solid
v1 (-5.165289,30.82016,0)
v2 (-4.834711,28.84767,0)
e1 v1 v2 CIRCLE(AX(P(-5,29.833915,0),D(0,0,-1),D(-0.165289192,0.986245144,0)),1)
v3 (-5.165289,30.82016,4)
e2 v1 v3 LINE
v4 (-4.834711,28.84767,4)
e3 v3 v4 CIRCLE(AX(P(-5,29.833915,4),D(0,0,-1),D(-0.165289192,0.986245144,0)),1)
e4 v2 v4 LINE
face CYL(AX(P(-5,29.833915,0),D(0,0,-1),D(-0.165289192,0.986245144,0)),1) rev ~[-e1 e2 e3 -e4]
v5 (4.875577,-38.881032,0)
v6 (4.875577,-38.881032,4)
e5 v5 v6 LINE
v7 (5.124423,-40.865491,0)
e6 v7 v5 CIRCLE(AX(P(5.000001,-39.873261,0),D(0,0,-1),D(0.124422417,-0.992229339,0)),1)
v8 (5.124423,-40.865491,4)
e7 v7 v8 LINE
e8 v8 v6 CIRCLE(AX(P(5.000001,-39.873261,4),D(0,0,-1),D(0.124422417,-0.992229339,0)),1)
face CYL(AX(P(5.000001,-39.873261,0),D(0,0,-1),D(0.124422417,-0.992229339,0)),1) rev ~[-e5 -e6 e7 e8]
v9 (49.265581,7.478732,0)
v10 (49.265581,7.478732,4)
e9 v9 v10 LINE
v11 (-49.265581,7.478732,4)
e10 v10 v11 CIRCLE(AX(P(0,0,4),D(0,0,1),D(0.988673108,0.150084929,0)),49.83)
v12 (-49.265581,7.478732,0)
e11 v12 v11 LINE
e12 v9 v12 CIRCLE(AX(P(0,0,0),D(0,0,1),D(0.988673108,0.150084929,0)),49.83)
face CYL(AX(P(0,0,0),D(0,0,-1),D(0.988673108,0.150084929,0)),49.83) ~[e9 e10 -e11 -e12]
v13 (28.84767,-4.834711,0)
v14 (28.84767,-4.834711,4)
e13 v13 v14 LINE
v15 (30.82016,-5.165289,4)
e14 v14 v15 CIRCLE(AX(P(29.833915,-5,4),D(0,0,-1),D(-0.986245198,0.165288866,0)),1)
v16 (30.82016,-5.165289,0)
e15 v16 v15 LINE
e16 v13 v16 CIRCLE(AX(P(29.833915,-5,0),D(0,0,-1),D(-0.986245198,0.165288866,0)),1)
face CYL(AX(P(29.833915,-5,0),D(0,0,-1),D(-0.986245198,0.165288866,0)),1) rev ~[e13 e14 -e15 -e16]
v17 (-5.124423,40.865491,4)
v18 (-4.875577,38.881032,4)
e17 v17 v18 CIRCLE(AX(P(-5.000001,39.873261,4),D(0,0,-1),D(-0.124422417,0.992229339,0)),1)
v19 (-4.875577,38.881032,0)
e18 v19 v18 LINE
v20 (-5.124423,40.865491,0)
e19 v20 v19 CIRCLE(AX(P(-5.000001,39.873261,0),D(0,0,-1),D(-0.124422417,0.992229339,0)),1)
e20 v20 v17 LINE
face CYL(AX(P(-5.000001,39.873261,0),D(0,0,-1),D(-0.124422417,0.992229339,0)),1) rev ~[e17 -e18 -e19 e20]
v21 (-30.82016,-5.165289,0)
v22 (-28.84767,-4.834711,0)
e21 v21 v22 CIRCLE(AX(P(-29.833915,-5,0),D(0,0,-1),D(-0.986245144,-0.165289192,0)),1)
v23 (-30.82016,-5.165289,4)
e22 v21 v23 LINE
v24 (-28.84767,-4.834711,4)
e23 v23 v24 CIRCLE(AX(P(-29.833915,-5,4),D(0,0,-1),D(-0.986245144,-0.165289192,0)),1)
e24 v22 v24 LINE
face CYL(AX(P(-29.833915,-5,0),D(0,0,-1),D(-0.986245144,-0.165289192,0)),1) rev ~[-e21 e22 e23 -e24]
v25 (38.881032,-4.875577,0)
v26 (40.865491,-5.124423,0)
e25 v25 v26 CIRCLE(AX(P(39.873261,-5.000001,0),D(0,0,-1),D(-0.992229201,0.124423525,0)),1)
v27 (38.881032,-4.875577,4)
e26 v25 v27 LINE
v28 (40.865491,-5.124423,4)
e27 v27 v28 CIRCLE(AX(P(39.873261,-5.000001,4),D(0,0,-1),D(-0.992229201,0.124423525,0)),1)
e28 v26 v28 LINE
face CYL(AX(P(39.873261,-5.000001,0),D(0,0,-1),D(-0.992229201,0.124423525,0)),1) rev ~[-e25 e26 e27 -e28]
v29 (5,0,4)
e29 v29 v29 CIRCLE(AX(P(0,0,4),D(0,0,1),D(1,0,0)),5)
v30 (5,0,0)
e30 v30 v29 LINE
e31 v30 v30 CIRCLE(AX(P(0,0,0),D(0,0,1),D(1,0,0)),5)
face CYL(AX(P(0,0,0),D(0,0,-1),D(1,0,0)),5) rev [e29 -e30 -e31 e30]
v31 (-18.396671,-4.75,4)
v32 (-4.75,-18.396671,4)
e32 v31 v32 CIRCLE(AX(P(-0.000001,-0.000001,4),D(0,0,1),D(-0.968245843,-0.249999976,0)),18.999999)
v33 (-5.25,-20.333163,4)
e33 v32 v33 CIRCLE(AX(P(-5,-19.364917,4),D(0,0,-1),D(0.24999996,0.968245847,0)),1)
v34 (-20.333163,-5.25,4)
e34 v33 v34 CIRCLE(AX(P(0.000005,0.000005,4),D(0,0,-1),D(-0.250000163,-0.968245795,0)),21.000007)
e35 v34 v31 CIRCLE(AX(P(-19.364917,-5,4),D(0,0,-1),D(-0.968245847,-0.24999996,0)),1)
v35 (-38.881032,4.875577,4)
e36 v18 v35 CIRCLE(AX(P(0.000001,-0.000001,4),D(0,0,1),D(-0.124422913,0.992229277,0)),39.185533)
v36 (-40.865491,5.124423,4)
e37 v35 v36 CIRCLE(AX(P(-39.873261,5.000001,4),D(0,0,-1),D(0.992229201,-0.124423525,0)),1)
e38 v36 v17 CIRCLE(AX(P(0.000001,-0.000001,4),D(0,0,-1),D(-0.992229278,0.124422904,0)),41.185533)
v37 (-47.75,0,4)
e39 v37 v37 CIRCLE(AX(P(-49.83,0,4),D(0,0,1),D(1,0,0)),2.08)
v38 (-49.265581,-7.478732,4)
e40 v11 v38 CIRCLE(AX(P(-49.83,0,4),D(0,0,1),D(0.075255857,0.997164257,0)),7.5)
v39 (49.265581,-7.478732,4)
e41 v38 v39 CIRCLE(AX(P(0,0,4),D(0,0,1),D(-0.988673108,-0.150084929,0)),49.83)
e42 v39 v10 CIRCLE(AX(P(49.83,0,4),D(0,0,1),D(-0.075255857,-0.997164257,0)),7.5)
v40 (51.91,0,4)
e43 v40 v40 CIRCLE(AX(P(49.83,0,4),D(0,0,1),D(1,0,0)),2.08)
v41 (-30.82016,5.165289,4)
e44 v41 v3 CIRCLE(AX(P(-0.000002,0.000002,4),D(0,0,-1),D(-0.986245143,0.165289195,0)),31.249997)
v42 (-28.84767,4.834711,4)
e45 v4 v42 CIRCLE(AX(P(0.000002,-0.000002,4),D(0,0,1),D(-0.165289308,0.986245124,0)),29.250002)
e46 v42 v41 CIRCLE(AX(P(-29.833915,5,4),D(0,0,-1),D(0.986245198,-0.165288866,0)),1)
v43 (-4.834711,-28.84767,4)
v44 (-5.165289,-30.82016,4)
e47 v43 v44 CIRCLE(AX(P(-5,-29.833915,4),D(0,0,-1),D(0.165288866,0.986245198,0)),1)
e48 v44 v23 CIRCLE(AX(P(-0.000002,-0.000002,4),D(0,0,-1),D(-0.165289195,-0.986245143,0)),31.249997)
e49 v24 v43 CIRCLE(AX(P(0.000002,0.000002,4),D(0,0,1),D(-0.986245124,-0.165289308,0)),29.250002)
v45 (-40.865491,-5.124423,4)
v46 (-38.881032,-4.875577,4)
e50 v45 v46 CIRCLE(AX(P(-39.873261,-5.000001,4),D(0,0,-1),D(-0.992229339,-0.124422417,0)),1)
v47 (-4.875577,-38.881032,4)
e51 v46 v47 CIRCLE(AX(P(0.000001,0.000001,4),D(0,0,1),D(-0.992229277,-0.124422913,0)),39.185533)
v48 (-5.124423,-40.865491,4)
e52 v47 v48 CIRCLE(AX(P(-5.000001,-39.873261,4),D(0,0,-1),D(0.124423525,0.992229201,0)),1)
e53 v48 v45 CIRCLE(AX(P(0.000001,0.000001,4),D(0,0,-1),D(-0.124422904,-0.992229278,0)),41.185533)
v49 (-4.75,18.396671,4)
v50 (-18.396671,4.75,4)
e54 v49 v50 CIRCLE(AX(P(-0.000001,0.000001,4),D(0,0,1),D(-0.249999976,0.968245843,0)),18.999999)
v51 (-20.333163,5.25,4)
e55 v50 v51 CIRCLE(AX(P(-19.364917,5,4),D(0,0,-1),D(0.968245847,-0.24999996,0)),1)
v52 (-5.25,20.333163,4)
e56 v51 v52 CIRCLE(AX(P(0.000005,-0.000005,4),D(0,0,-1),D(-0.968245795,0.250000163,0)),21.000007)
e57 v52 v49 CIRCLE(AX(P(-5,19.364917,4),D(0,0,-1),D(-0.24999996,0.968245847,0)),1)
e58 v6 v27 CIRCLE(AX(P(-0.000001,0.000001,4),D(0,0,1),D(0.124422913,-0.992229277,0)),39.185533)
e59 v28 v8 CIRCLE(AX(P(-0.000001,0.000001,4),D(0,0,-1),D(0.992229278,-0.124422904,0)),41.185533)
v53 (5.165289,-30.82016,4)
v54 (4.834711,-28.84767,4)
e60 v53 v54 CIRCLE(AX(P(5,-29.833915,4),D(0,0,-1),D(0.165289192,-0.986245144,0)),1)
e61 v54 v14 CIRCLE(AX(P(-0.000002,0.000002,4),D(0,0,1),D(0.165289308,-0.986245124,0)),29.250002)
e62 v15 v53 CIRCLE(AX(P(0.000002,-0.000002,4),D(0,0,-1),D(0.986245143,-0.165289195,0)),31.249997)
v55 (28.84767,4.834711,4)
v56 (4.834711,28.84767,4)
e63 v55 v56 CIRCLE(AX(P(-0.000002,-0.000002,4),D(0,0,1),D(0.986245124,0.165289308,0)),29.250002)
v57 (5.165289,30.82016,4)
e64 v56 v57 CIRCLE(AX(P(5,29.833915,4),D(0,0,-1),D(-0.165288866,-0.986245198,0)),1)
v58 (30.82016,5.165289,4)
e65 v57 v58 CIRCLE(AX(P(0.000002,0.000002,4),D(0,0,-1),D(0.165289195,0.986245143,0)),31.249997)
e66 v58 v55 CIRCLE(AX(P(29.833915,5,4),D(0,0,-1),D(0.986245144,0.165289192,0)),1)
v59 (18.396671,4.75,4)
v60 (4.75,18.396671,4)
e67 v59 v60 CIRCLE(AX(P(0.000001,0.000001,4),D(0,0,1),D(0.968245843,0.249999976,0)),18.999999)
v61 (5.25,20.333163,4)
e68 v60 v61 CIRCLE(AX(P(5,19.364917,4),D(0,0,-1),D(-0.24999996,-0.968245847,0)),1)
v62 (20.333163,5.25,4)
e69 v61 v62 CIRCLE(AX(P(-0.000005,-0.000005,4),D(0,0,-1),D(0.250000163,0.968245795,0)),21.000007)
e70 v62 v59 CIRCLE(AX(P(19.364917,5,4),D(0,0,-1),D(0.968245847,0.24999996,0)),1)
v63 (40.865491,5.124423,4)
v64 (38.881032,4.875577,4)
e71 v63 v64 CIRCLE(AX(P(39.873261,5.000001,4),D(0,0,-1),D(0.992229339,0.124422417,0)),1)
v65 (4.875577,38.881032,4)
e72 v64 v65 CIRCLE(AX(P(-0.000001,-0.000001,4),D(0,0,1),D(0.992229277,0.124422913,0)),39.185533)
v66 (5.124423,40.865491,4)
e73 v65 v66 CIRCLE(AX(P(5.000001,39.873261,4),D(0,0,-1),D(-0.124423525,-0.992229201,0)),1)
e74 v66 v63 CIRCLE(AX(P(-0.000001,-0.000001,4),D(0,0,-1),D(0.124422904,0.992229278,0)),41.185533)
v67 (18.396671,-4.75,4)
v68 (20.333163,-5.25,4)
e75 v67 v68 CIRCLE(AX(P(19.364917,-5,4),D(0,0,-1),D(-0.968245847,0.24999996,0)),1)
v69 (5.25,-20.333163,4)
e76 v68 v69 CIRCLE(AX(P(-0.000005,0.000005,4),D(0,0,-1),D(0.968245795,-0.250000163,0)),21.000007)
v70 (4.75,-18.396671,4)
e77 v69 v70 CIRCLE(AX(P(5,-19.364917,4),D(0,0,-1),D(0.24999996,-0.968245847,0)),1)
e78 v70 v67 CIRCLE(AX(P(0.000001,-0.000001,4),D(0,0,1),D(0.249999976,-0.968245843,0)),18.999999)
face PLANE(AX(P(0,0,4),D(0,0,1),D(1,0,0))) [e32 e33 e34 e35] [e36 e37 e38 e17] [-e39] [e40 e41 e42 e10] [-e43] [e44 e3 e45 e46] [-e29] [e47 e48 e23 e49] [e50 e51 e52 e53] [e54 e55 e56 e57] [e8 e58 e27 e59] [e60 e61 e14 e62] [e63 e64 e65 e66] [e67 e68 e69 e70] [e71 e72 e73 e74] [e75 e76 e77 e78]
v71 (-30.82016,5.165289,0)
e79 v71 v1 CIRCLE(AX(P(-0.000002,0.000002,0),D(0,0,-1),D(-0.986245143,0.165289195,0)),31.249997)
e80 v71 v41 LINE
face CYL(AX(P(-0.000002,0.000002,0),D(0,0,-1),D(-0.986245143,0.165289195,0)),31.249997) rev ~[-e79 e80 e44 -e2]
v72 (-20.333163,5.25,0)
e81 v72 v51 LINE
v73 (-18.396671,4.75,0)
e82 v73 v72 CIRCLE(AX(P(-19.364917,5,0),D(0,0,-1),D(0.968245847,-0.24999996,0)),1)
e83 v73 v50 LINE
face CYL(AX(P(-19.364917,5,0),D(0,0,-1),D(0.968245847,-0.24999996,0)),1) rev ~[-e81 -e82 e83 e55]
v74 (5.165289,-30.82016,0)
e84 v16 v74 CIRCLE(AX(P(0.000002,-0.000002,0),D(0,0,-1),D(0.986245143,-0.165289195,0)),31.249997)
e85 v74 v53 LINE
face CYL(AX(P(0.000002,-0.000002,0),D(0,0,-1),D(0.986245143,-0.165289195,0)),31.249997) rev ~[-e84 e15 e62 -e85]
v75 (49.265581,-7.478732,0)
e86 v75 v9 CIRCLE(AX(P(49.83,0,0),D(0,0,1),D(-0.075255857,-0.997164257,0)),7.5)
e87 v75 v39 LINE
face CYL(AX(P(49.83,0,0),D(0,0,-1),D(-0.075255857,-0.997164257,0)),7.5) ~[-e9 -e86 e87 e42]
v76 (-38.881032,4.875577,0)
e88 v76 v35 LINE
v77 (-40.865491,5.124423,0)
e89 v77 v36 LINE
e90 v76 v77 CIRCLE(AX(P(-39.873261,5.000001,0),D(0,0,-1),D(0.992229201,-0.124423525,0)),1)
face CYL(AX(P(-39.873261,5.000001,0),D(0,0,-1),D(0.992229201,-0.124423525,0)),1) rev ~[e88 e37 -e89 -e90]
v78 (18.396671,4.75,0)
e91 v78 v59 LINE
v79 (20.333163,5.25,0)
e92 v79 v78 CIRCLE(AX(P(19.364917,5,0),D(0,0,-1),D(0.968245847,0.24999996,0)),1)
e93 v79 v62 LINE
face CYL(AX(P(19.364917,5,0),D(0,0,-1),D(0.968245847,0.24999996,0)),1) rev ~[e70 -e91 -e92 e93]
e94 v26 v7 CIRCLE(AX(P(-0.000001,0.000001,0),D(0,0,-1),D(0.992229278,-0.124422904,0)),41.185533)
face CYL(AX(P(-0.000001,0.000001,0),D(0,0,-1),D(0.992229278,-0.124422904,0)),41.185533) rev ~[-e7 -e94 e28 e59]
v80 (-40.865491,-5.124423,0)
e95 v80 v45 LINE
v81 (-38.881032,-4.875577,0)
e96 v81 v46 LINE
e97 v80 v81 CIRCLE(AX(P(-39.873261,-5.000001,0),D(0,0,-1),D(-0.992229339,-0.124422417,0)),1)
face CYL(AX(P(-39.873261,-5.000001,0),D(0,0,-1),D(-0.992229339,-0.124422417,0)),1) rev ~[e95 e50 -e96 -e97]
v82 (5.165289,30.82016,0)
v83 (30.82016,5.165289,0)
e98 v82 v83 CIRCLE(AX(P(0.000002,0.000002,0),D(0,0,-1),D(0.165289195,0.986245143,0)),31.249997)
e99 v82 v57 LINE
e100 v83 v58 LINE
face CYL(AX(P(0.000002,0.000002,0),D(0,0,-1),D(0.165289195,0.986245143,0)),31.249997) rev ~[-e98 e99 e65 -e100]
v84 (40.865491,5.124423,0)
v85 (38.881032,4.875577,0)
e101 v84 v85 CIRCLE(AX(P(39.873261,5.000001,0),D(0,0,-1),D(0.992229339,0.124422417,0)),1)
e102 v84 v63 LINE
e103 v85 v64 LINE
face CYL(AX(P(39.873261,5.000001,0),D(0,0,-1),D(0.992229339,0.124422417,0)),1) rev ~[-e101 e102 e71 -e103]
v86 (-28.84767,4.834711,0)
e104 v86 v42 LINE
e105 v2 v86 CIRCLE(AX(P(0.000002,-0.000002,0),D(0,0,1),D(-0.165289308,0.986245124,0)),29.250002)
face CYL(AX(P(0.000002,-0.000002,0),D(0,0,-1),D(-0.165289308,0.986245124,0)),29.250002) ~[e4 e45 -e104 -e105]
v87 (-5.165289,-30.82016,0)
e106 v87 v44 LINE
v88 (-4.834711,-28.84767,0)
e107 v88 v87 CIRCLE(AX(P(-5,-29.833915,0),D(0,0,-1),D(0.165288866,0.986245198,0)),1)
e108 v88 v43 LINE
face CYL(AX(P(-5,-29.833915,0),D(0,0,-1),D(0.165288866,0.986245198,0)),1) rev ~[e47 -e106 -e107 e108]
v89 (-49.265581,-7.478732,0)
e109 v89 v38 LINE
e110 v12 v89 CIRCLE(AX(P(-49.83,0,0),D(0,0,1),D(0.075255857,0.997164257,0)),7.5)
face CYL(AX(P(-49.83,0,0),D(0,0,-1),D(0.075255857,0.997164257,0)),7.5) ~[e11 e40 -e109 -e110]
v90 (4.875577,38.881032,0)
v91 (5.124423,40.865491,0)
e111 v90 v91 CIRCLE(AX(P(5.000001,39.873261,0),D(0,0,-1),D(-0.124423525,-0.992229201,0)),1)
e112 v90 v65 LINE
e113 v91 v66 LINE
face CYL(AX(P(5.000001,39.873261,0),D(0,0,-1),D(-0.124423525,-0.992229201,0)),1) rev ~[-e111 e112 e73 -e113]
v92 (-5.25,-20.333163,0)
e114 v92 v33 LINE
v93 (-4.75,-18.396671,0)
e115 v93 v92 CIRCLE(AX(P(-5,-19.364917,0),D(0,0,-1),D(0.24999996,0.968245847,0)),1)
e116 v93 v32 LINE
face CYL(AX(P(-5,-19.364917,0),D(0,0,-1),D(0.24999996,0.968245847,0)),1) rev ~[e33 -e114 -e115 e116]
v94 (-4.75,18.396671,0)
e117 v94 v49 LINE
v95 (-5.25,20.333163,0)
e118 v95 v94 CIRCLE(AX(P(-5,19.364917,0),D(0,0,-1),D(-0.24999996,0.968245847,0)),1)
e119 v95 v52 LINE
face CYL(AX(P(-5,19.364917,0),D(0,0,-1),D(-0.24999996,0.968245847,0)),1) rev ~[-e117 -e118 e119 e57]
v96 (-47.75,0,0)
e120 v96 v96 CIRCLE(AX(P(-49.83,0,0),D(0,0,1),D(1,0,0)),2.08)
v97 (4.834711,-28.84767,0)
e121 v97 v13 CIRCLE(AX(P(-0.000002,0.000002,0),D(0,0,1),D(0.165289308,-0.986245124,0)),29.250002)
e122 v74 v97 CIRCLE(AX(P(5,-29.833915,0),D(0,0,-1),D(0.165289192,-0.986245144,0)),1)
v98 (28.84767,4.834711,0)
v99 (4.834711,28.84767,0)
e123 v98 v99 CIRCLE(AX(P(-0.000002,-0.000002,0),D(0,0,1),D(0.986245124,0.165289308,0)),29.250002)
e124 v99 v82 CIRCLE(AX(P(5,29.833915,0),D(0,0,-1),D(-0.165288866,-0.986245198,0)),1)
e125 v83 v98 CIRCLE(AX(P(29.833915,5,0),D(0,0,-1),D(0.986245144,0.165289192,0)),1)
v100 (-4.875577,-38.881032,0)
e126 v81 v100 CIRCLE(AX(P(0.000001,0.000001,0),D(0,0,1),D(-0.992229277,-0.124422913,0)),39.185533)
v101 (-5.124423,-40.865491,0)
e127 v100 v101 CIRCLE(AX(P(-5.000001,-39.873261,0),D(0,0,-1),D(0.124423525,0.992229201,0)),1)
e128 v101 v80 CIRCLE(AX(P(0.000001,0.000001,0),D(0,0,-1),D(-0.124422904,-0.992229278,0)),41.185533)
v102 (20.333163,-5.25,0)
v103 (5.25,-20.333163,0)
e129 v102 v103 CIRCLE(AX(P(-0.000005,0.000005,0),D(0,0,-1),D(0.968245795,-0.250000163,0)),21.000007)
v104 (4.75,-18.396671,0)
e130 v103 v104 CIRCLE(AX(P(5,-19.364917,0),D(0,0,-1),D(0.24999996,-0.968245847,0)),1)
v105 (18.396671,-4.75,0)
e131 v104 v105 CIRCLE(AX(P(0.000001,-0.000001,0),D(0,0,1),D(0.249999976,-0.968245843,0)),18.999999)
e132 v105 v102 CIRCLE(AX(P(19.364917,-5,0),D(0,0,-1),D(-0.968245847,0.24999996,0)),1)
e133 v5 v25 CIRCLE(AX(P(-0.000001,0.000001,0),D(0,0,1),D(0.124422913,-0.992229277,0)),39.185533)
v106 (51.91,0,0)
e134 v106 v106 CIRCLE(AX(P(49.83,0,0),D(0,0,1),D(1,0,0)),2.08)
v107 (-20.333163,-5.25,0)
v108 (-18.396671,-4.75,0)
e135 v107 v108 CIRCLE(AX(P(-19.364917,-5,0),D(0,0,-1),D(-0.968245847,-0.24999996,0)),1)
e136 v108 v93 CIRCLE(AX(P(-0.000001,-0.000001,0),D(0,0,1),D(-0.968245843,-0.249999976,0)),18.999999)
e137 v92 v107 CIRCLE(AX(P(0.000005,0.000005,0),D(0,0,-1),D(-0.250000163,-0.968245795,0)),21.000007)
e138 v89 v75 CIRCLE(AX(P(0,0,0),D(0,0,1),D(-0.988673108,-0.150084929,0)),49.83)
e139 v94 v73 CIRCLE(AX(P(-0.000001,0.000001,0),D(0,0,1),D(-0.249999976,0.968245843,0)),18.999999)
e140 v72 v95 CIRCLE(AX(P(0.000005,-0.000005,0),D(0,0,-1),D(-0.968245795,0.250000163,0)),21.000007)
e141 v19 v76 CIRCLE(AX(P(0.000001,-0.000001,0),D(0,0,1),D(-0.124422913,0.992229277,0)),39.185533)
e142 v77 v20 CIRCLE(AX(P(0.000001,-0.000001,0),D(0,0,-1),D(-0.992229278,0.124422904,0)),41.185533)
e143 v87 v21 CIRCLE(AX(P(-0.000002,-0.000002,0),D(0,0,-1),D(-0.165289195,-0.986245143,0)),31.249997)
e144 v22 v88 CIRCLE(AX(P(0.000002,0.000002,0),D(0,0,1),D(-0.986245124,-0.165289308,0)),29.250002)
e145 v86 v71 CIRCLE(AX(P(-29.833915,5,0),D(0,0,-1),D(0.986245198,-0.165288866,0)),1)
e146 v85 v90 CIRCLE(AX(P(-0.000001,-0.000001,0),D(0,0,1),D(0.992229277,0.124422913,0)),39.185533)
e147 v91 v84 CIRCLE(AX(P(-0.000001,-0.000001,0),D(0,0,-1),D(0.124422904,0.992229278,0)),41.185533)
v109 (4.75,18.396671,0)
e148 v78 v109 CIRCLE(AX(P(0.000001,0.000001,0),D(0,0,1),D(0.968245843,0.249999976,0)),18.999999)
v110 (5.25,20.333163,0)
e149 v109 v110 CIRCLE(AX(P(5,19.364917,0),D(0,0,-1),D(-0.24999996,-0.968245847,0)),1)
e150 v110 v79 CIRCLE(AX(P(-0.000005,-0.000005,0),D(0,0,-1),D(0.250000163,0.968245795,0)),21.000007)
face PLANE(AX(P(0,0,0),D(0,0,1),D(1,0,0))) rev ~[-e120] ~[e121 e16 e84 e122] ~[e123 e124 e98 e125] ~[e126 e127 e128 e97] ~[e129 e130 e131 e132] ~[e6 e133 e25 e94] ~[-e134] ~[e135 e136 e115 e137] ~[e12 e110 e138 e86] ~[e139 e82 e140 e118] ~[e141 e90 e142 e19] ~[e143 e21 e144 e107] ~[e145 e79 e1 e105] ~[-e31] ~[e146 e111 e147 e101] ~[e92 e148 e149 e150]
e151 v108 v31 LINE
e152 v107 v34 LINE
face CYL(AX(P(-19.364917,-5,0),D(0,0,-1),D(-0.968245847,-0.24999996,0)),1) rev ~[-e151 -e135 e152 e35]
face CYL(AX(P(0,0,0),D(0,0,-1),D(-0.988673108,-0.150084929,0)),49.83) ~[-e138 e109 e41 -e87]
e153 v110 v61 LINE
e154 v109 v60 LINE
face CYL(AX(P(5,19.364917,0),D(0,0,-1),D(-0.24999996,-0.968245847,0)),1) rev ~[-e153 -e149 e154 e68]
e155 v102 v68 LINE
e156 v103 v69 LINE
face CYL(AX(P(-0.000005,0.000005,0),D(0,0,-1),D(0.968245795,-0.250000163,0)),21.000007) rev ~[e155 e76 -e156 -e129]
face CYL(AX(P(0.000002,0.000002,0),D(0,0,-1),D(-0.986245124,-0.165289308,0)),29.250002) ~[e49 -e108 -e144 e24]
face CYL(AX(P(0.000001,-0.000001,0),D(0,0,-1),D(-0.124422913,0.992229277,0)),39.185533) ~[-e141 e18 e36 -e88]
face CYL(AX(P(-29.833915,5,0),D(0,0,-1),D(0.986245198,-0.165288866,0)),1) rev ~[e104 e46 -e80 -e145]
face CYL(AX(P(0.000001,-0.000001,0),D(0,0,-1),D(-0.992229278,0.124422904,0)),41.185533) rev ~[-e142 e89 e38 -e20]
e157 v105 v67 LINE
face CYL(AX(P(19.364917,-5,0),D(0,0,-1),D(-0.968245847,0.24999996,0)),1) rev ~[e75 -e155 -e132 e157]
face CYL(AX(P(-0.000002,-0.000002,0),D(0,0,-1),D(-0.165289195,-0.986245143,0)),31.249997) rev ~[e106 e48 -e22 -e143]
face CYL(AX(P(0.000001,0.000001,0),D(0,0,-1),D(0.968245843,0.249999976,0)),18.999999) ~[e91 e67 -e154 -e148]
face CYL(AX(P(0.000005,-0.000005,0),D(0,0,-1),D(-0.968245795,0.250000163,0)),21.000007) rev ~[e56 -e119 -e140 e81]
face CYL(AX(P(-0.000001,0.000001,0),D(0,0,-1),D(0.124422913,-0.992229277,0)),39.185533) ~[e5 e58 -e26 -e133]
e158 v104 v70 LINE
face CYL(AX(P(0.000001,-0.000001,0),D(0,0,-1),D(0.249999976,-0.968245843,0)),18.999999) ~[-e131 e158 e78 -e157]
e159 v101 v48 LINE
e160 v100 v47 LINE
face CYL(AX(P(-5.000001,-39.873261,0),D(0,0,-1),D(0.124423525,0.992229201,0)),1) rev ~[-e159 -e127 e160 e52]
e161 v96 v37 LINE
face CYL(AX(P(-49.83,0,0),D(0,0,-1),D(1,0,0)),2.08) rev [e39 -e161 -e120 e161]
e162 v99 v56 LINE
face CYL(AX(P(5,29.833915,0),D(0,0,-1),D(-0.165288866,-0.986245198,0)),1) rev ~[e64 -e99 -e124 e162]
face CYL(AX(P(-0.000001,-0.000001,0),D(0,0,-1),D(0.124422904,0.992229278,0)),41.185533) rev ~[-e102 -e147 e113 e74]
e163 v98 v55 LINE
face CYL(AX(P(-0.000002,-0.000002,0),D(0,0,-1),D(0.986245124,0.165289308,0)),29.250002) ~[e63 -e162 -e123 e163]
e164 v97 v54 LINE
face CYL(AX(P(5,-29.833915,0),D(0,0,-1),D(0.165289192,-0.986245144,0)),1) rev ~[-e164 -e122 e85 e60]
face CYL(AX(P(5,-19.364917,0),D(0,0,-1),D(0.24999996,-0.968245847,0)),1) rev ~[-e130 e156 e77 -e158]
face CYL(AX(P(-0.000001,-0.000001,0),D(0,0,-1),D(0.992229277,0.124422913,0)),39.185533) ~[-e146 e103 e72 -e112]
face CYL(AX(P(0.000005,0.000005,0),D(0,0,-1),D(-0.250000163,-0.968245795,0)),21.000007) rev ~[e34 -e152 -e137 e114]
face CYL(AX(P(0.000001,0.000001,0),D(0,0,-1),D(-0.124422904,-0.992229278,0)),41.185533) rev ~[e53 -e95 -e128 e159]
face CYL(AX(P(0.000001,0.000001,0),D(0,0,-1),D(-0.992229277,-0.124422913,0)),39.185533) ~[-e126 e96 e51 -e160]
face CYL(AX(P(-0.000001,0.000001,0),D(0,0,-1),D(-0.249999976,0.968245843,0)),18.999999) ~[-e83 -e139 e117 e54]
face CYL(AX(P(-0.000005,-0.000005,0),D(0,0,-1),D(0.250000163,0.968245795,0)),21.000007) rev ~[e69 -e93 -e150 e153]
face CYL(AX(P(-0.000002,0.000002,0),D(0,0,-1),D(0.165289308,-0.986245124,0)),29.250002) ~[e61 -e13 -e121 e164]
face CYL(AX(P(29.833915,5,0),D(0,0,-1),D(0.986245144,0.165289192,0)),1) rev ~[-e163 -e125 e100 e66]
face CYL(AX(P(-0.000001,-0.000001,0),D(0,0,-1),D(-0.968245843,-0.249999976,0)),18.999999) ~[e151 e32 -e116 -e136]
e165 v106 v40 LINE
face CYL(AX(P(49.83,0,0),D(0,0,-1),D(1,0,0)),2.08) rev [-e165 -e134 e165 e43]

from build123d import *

# Parameters (mm, degrees)
F0_R     = 2.08
F0_R_2   = 5
F1_DEPTH = 4


with BuildPart() as f1:
    # F0 (on Top) → F1 (new body)
    with BuildSketch(Plane.XY):
        with BuildLine():
            ThreePointArc((49.265581, 7.478732), (0, 49.83), (-49.265581, 7.478732))
            ThreePointArc((-49.265581, 7.478732), (-57.33, 0), (-49.265581, -7.478732))
            ThreePointArc((-49.265581, -7.478732), (0, -49.83), (49.265581, -7.478732))
            ThreePointArc((49.265581, -7.478732), (57.33, 0), (49.265581, 7.478732))
        make_face()
        with BuildLine():
            ThreePointArc((-5.124423, -40.865491), (-29.122569, -29.122569), (-40.865491, -5.124423))
            ThreePointArc((-40.865491, -5.124423), (-39.997684, -4.007771), (-38.881032, -4.875577))
            ThreePointArc((-38.881032, -4.875577), (-27.708355, -27.708355), (-4.875577, -38.881032))
            ThreePointArc((-4.875577, -38.881032), (-4.007771, -39.997684), (-5.124423, -40.865491))
        make_face(mode=Mode.SUBTRACT)
        with BuildLine():
            ThreePointArc((-5.165289, -30.82016), (-22.097087, -22.097087), (-30.82016, -5.165289))
            ThreePointArc((-30.82016, -5.165289), (-29.999205, -4.013755), (-28.84767, -4.834711))
            ThreePointArc((-28.84767, -4.834711), (-20.682873, -20.682873), (-4.834711, -28.84767))
            ThreePointArc((-4.834711, -28.84767), (-4.013755, -29.999205), (-5.165289, -30.82016))
        make_face(mode=Mode.SUBTRACT)
        with BuildLine():
            ThreePointArc((-20.333163, -5.25), (-19.614917, -4.031754), (-18.396671, -4.75))
            ThreePointArc((-18.396671, -4.75), (-13.435029, -13.435029), (-4.75, -18.396671))
            ThreePointArc((-4.75, -18.396671), (-4.031754, -19.614917), (-5.25, -20.333163))
            ThreePointArc((-5.25, -20.333163), (-14.849242, -14.849242), (-20.333163, -5.25))
        make_face(mode=Mode.SUBTRACT)
        with BuildLine():
            ThreePointArc((40.865491, -5.124423), (29.122569, -29.122569), (5.124423, -40.865491))
            ThreePointArc((5.124423, -40.865491), (4.007771, -39.997684), (4.875577, -38.881032))
            ThreePointArc((4.875577, -38.881032), (27.708355, -27.708355), (38.881032, -4.875577))
            ThreePointArc((38.881032, -4.875577), (39.997684, -4.007771), (40.865491, -5.124423))
        make_face(mode=Mode.SUBTRACT)
        with BuildLine():
            ThreePointArc((30.82016, -5.165289), (22.097087, -22.097087), (5.165289, -30.82016))
            ThreePointArc((5.165289, -30.82016), (4.013755, -29.999205), (4.834711, -28.84767))
            ThreePointArc((4.834711, -28.84767), (20.682873, -20.682873), (28.84767, -4.834711))
            ThreePointArc((28.84767, -4.834711), (29.999205, -4.013755), (30.82016, -5.165289))
        make_face(mode=Mode.SUBTRACT)
        with BuildLine():
            ThreePointArc((5.25, -20.333163), (4.031754, -19.614917), (4.75, -18.396671))
            ThreePointArc((4.75, -18.396671), (13.435029, -13.435029), (18.396671, -4.75))
            ThreePointArc((18.396671, -4.75), (19.614917, -4.031754), (20.333163, -5.25))
            ThreePointArc((20.333163, -5.25), (14.849242, -14.849242), (5.25, -20.333163))
        make_face(mode=Mode.SUBTRACT)
        with Locations((-49.83, 0)):
            Circle(F0_R, mode=Mode.SUBTRACT)
        Circle(F0_R_2, mode=Mode.SUBTRACT)
        with BuildLine():
            ThreePointArc((-20.333163, 5.25), (-14.849242, 14.849242), (-5.25, 20.333163))
            ThreePointArc((-5.25, 20.333163), (-4.031754, 19.614917), (-4.75, 18.396671))
            ThreePointArc((-4.75, 18.396671), (-13.435029, 13.435029), (-18.396671, 4.75))
            ThreePointArc((-18.396671, 4.75), (-19.614917, 4.031754), (-20.333163, 5.25))
        make_face(mode=Mode.SUBTRACT)
        with BuildLine():
            ThreePointArc((-30.82016, 5.165289), (-22.097087, 22.097087), (-5.165289, 30.82016))
            ThreePointArc((-5.165289, 30.82016), (-4.013755, 29.999205), (-4.834711, 28.84767))
            ThreePointArc((-4.834711, 28.84767), (-20.682873, 20.682873), (-28.84767, 4.834711))
            ThreePointArc((-28.84767, 4.834711), (-29.999205, 4.013755), (-30.82016, 5.165289))
        make_face(mode=Mode.SUBTRACT)
        with BuildLine():
            ThreePointArc((-40.865491, 5.124423), (-29.122569, 29.122569), (-5.124423, 40.865491))
            ThreePointArc((-5.124423, 40.865491), (-4.007771, 39.997684), (-4.875577, 38.881032))
            ThreePointArc((-4.875577, 38.881032), (-27.708355, 27.708355), (-38.881032, 4.875577))
            ThreePointArc((-38.881032, 4.875577), (-39.997684, 4.007771), (-40.865491, 5.124423))
        make_face(mode=Mode.SUBTRACT)
        with BuildLine():
            ThreePointArc((20.333163, 5.25), (19.614917, 4.031754), (18.396671, 4.75))
            ThreePointArc((18.396671, 4.75), (13.435029, 13.435029), (4.75, 18.396671))
            ThreePointArc((4.75, 18.396671), (4.031754, 19.614917), (5.25, 20.333163))
            ThreePointArc((5.25, 20.333163), (14.849242, 14.849242), (20.333163, 5.25))
        make_face(mode=Mode.SUBTRACT)
        with BuildLine():
            ThreePointArc((5.165289, 30.82016), (22.097087, 22.097087), (30.82016, 5.165289))
            ThreePointArc((30.82016, 5.165289), (29.999205, 4.013755), (28.84767, 4.834711))
            ThreePointArc((28.84767, 4.834711), (20.682873, 20.682873), (4.834711, 28.84767))
            ThreePointArc((4.834711, 28.84767), (4.013755, 29.999205), (5.165289, 30.82016))
        make_face(mode=Mode.SUBTRACT)
        with BuildLine():
            ThreePointArc((5.124423, 40.865491), (29.122569, 29.122569), (40.865491, 5.124423))
            ThreePointArc((40.865491, 5.124423), (39.997684, 4.007771), (38.881032, 4.875577))
            ThreePointArc((38.881032, 4.875577), (27.708355, 27.708355), (4.875577, 38.881032))
            ThreePointArc((4.875577, 38.881032), (4.007771, 39.997684), (5.124423, 40.865491))
        make_face(mode=Mode.SUBTRACT)
        with Locations((49.83, 0)):
            Circle(F0_R, mode=Mode.SUBTRACT)
    extrude(amount=F1_DEPTH)


solid = f1.part
